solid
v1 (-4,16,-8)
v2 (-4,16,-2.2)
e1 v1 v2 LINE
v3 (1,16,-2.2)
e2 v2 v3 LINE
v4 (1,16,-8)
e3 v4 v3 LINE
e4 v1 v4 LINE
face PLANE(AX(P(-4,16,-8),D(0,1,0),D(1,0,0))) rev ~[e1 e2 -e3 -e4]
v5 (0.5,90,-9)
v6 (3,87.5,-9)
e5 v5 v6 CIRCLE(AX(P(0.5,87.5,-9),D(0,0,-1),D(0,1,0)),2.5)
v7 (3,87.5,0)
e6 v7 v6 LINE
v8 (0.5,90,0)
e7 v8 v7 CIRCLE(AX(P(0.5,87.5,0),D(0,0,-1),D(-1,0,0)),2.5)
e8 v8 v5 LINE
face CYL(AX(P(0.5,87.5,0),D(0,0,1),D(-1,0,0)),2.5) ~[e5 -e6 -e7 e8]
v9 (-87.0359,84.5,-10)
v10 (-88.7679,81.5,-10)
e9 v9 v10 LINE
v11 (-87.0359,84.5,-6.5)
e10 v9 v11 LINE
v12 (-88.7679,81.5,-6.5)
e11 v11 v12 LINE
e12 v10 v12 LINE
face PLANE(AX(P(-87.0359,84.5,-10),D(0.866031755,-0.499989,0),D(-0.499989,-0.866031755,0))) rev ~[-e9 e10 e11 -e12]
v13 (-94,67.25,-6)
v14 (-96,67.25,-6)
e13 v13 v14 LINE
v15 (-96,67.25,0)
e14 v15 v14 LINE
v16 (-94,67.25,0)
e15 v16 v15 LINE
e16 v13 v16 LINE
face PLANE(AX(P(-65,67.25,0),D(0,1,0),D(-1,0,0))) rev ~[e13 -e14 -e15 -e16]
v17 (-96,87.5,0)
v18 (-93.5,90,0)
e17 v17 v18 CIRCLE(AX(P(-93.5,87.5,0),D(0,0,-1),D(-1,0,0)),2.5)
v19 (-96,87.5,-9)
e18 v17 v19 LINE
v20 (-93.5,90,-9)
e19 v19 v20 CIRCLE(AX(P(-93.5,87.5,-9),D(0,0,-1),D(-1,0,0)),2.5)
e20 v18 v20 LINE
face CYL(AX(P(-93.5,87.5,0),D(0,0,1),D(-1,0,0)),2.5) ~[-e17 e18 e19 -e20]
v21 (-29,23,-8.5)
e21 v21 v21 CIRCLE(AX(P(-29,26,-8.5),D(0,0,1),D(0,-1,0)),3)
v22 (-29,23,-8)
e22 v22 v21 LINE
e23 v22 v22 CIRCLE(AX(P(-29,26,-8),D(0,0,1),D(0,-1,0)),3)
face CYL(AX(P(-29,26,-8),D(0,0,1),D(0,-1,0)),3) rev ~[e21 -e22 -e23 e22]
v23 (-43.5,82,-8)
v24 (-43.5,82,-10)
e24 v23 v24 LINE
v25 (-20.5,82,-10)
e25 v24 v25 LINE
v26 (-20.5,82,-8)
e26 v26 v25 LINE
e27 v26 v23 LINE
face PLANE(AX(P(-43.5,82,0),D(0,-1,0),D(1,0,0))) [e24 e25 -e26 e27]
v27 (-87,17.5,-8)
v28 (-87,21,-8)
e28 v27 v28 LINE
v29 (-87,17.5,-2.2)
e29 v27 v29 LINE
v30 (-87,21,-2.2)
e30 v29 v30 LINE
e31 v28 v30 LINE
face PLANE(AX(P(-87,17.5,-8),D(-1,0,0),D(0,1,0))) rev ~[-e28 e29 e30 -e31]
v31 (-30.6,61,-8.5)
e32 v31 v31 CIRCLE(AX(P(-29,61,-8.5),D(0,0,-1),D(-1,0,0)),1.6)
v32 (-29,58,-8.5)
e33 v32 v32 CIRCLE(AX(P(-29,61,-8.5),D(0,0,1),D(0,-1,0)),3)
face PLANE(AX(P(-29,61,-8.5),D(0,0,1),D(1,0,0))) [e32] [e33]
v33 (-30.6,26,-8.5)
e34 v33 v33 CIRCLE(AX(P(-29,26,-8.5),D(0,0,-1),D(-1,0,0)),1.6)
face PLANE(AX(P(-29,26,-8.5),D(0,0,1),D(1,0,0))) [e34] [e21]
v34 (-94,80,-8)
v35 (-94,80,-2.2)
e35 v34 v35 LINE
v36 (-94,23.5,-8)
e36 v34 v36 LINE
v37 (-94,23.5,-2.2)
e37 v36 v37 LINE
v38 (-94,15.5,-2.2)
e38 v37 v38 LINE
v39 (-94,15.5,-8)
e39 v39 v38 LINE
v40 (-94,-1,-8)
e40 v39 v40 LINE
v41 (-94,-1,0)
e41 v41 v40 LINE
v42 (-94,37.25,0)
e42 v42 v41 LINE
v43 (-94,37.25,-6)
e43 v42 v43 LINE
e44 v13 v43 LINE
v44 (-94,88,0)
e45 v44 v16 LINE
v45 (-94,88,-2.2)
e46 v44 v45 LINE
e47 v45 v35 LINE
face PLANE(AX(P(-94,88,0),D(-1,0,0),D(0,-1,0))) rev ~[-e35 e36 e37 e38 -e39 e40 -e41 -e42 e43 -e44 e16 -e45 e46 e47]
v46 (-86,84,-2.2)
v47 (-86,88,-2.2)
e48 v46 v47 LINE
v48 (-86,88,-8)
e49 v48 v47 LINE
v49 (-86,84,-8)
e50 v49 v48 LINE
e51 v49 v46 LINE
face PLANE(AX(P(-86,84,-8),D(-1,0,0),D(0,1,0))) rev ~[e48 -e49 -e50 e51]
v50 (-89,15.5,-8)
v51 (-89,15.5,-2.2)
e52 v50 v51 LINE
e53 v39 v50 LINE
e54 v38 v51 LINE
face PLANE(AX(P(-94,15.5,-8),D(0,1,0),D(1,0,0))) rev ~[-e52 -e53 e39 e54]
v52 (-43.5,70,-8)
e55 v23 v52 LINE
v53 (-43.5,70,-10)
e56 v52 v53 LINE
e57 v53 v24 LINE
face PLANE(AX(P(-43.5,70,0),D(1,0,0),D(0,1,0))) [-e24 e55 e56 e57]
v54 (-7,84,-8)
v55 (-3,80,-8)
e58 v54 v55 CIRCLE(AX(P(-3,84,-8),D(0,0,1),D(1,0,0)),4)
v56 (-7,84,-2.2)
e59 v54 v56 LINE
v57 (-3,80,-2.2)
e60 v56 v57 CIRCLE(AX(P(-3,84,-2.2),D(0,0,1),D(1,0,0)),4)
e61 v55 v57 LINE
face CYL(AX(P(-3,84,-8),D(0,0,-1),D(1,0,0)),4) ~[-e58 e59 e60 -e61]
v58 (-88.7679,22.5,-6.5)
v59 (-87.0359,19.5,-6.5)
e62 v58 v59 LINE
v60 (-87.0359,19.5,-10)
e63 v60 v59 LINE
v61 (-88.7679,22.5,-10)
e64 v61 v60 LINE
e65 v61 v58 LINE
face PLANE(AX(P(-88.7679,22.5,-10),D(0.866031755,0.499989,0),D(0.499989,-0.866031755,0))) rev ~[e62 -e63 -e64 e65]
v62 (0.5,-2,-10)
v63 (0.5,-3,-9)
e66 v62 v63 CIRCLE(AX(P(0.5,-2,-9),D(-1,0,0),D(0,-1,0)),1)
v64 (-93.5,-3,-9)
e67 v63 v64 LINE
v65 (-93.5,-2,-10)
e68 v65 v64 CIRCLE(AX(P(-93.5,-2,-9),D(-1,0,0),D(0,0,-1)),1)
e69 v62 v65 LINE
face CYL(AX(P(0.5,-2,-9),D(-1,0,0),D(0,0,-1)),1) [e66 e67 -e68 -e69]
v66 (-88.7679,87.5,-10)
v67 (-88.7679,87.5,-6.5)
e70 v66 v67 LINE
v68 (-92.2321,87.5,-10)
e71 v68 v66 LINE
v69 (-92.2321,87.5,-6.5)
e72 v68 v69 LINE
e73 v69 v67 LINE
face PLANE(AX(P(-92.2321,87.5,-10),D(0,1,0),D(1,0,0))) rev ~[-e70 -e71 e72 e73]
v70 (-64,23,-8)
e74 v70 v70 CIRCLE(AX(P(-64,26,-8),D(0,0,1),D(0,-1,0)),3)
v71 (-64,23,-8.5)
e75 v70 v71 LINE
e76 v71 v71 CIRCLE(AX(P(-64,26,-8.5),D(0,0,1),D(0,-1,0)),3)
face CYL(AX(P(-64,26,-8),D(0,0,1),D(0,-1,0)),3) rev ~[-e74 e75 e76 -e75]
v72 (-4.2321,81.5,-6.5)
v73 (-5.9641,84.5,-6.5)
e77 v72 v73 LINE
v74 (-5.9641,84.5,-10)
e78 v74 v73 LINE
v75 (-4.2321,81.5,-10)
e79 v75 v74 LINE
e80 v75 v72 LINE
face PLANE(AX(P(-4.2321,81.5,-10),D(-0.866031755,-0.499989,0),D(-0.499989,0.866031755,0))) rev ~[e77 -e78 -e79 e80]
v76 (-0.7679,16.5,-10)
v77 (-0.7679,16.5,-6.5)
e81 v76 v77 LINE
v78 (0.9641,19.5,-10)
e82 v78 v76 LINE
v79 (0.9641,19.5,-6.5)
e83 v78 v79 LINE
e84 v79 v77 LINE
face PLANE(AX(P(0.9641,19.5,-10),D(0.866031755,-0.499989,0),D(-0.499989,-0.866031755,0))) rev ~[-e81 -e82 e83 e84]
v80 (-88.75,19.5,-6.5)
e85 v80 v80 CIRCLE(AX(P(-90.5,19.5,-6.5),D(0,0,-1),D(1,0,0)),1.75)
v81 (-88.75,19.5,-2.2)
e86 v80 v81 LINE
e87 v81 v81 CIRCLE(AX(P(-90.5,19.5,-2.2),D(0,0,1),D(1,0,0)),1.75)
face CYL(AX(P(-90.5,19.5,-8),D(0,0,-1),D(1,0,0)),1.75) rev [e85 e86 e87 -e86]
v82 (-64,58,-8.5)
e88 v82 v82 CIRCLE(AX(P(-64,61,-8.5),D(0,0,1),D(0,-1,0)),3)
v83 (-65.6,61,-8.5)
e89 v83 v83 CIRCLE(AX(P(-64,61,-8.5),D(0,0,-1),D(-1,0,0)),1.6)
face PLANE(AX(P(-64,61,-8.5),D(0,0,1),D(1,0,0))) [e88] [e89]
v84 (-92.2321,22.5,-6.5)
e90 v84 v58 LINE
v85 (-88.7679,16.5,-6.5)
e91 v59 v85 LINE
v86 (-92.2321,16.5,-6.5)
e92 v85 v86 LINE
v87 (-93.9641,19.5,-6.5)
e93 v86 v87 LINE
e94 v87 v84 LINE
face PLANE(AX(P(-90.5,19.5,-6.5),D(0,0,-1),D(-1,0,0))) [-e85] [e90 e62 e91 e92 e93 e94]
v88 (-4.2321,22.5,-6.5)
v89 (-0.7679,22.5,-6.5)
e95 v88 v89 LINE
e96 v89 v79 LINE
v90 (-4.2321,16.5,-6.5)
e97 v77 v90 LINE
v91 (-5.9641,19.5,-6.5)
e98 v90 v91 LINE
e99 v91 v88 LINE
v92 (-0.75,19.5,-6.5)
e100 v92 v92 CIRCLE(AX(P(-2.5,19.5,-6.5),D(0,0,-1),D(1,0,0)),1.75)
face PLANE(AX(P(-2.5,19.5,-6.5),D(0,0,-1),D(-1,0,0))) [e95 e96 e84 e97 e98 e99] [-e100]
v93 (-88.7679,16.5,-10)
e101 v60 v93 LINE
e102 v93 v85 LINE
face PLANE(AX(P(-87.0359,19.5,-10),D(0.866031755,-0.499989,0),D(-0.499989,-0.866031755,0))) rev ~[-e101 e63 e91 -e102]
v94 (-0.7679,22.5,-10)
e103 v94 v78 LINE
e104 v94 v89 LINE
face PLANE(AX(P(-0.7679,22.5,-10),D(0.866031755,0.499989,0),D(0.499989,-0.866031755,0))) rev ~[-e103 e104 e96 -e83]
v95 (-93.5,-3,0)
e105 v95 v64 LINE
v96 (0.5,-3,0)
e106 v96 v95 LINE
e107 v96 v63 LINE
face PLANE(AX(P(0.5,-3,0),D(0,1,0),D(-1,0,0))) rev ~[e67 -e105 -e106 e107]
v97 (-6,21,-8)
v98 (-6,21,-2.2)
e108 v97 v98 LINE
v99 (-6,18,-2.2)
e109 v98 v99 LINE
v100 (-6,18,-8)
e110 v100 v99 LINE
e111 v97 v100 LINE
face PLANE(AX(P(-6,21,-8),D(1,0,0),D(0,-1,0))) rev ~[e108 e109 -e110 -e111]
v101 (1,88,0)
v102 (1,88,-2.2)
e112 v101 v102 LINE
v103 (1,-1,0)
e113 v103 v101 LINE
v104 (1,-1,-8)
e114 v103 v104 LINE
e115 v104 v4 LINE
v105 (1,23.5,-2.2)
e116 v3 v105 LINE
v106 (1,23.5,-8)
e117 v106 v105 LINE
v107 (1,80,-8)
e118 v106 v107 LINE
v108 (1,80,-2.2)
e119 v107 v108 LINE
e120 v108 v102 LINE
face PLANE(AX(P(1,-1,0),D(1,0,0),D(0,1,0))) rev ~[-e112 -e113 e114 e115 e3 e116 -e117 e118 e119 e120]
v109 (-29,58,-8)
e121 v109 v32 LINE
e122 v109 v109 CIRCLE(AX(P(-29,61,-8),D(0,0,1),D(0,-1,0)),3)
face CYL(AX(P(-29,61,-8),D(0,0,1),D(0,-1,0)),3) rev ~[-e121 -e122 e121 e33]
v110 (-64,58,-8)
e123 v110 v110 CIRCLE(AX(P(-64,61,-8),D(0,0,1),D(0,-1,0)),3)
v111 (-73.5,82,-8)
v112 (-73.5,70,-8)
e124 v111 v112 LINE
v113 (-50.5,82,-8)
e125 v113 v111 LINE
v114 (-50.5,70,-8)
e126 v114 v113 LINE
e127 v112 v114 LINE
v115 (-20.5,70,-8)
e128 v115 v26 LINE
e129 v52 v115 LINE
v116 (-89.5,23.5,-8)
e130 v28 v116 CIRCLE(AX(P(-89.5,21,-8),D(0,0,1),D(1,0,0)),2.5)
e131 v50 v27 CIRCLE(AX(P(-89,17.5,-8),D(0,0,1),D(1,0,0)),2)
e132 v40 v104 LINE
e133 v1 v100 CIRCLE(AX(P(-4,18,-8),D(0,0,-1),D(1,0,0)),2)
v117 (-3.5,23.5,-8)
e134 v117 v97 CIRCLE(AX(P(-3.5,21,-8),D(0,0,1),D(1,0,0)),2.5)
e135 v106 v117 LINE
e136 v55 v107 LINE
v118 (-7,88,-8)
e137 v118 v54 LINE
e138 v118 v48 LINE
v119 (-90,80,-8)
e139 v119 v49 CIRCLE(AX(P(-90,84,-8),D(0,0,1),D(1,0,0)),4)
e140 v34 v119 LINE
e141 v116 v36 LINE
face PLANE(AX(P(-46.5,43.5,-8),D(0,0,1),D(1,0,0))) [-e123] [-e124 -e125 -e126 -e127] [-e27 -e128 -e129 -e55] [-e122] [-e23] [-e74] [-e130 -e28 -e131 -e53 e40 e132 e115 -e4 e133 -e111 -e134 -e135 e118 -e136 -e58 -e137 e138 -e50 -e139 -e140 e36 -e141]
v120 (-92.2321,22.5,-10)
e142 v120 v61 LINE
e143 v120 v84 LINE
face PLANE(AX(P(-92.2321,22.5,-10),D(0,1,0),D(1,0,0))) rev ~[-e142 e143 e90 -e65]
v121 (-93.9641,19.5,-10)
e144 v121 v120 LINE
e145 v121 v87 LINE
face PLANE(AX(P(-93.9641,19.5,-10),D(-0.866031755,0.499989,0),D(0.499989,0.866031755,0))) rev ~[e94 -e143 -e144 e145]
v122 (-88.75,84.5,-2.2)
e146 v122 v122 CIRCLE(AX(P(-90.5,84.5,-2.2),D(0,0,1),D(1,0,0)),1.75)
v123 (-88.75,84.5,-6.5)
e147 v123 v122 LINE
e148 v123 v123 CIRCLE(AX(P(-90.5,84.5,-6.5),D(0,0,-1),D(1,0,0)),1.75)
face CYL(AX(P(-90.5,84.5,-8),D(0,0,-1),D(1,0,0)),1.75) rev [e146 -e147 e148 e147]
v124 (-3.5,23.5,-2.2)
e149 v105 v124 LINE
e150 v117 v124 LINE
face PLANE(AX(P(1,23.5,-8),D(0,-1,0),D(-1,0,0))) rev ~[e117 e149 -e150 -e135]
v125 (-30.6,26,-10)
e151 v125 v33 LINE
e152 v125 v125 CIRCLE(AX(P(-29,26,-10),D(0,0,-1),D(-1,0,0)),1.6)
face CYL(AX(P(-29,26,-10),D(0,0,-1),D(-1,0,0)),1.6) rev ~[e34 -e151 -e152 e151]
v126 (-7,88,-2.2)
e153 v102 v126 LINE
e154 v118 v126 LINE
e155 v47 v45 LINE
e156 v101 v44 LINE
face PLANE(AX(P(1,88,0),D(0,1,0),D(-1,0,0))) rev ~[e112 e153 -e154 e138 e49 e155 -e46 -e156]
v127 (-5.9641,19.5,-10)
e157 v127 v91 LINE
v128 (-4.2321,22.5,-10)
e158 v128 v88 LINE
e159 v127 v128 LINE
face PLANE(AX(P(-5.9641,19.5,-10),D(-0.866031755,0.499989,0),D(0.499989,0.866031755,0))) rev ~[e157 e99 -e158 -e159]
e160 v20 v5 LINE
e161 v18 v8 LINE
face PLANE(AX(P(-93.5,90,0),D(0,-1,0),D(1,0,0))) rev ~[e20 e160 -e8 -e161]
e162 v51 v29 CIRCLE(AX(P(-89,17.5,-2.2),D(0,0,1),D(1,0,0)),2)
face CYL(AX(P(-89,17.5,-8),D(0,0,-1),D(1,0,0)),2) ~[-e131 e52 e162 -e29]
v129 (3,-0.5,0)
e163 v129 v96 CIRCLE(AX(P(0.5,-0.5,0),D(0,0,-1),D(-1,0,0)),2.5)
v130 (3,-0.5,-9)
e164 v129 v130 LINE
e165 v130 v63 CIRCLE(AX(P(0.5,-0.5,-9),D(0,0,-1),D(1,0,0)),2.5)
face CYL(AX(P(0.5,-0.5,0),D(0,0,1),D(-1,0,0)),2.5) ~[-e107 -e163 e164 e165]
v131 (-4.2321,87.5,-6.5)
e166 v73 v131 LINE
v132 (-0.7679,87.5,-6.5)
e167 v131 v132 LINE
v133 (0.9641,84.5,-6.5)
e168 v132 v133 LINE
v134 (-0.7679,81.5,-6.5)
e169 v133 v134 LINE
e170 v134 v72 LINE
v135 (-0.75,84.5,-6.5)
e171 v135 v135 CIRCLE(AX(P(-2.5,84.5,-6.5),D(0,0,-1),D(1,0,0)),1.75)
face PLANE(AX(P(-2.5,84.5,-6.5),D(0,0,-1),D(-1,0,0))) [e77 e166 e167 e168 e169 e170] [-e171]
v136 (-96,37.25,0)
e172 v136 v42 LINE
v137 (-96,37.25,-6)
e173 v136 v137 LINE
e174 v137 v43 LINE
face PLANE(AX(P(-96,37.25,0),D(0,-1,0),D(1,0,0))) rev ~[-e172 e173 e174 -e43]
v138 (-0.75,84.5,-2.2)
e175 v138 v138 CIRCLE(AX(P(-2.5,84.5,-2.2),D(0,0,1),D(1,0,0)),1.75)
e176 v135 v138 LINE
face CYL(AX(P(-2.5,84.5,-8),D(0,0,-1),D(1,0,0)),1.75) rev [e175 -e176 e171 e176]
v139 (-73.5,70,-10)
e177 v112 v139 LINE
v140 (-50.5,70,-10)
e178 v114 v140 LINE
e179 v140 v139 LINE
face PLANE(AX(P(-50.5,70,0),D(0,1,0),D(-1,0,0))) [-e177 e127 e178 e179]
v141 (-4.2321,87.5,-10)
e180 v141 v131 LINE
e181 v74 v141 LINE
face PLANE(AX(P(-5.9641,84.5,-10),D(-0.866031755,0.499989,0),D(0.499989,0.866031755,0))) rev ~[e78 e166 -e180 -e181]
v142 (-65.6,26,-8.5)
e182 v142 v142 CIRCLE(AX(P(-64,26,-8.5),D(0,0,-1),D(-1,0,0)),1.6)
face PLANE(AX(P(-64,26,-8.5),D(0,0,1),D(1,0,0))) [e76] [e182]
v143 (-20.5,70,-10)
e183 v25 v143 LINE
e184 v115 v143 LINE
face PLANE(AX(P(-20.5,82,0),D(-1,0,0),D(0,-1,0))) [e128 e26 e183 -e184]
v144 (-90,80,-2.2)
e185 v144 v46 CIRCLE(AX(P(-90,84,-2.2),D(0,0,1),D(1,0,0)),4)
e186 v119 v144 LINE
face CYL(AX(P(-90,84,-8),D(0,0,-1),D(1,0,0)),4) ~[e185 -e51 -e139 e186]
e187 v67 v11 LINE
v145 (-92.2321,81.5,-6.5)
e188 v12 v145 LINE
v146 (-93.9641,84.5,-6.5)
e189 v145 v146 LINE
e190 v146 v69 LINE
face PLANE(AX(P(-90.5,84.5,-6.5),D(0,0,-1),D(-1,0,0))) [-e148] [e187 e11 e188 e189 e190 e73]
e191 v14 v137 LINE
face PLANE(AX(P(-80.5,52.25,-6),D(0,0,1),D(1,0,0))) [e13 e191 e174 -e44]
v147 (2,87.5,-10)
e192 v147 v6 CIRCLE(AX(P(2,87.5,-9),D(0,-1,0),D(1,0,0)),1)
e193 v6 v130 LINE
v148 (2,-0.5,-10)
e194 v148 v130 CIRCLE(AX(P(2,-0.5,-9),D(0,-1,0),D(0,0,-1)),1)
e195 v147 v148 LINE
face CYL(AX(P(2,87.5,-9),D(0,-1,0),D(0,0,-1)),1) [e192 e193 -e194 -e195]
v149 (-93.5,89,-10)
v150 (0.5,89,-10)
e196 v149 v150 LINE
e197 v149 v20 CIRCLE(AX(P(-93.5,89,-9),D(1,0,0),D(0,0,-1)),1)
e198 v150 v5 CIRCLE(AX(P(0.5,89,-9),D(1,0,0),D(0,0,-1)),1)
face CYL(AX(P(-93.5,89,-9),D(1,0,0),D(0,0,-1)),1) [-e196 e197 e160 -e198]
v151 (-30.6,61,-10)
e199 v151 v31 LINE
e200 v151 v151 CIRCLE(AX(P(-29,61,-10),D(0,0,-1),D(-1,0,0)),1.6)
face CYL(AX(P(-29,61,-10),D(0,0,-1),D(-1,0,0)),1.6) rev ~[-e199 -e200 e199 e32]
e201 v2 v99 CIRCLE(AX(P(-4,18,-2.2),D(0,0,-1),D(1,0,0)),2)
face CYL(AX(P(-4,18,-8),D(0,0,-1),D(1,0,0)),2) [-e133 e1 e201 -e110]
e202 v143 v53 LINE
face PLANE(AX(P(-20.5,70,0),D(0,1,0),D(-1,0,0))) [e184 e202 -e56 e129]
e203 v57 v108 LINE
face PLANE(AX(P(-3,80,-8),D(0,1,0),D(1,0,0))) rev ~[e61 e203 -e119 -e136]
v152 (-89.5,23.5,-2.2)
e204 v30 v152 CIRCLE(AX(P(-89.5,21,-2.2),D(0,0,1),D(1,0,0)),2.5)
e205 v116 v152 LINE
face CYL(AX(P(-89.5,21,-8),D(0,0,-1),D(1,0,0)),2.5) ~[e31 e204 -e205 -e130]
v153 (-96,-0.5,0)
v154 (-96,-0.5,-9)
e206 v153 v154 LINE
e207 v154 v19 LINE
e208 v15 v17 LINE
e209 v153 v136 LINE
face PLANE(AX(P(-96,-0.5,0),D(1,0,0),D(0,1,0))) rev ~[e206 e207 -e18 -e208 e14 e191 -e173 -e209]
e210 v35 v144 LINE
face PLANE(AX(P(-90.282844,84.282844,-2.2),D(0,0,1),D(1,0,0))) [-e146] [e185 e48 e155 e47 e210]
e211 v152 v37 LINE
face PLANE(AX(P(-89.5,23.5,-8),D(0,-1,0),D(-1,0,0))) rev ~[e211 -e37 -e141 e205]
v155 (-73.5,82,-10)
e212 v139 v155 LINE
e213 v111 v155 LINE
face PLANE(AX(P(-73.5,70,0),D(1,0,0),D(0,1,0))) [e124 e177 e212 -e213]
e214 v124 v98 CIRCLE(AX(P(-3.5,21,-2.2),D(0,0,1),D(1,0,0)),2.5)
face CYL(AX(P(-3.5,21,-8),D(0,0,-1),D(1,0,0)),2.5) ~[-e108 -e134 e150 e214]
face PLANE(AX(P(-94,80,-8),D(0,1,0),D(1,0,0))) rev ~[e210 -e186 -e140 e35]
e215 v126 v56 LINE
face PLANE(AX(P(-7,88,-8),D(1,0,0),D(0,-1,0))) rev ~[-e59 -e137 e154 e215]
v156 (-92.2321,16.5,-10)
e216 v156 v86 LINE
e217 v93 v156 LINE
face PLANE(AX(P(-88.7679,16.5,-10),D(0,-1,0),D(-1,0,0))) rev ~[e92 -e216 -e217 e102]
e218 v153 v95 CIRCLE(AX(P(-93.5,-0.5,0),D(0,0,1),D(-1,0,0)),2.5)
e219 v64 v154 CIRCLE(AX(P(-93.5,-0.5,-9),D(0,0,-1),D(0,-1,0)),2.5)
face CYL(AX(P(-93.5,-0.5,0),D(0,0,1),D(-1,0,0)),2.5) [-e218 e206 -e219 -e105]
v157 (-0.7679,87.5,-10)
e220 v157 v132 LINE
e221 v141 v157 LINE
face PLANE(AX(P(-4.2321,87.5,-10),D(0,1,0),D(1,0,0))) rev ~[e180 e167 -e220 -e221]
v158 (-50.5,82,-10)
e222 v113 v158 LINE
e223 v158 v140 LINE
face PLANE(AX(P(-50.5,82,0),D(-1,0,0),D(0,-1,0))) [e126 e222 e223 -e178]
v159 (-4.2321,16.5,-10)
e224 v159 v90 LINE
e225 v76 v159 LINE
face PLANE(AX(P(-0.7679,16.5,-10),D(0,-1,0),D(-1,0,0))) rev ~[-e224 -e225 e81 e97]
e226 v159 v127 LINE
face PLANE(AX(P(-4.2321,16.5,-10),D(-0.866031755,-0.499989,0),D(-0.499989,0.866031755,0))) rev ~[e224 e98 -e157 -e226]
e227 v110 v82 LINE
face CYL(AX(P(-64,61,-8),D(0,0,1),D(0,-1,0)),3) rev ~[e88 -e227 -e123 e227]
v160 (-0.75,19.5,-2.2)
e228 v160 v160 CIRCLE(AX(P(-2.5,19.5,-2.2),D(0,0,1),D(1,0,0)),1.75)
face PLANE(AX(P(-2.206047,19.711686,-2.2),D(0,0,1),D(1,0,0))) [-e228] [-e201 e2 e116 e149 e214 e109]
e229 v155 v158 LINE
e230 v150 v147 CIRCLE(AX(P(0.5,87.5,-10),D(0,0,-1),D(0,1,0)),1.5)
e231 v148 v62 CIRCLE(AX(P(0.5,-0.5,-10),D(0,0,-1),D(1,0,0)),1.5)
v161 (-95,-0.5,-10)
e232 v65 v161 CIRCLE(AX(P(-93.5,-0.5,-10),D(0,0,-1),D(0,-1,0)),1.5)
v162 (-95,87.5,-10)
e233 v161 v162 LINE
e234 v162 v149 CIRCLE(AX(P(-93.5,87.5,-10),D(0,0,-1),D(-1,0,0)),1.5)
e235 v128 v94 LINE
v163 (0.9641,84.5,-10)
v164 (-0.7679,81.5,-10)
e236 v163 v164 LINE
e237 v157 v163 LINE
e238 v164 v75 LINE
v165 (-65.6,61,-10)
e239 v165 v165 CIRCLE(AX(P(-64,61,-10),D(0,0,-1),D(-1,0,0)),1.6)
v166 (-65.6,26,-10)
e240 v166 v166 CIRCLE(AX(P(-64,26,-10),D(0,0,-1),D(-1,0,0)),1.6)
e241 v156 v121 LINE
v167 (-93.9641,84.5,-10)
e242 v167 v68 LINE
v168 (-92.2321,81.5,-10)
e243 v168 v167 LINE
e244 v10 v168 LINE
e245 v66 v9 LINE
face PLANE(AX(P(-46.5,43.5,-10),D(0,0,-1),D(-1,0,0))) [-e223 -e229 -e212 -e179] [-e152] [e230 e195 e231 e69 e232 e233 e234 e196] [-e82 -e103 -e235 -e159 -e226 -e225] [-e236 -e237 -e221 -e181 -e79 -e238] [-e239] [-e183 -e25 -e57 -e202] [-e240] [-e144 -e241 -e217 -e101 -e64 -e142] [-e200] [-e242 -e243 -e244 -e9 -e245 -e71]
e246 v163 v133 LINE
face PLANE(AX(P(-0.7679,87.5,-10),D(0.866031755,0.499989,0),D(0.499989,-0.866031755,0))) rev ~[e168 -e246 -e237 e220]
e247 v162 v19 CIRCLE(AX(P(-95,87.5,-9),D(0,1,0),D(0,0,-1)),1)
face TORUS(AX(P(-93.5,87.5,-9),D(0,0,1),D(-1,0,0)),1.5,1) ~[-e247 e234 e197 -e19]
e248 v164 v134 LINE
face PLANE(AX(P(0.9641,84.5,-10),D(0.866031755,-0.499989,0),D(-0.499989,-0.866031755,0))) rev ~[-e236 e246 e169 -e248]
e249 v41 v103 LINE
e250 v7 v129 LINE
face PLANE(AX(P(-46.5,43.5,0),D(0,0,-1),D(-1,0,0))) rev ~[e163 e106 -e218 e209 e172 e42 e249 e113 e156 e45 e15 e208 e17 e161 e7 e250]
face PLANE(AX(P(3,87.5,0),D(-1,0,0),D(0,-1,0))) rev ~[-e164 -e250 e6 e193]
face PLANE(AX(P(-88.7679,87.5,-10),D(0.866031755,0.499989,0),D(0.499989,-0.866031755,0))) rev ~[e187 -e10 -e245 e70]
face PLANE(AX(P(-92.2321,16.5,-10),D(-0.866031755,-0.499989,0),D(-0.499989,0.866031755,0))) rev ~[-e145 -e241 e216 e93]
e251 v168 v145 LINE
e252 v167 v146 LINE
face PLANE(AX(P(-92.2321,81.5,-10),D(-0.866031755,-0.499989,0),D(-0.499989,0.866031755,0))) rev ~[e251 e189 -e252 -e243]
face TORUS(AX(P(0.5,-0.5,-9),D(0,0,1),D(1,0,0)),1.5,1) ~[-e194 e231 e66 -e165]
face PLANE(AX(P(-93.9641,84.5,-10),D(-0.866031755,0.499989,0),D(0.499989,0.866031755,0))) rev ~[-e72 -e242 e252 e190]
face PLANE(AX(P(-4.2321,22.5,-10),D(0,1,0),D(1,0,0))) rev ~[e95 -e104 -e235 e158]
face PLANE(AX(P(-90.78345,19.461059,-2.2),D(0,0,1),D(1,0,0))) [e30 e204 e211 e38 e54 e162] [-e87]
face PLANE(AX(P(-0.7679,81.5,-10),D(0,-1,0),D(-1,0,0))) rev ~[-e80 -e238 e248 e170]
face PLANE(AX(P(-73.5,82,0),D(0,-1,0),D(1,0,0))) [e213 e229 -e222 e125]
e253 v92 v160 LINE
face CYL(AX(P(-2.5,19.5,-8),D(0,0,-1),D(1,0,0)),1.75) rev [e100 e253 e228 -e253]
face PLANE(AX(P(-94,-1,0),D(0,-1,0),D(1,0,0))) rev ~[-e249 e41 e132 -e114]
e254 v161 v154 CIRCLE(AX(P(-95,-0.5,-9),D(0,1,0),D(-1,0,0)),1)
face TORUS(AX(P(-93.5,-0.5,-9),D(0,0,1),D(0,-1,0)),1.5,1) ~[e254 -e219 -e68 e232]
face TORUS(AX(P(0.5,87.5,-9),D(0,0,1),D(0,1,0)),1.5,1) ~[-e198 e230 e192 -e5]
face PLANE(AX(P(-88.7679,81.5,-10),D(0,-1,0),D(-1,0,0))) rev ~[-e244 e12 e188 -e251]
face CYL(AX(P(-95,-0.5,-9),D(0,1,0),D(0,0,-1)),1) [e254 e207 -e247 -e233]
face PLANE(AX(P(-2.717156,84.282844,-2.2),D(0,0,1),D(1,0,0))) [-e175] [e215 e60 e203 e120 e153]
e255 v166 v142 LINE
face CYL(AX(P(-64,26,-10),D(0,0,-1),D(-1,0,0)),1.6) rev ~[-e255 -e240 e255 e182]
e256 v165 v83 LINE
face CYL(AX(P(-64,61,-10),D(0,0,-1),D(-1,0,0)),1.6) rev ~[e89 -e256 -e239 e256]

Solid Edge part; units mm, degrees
sketch "Sketch1" plane through (0, 0, 0) normal (0, 0, -1) x (-1, 0, 0)
  line L0 (20.5, 70) -> (43.5, 70)
  line L1 (43.5, 70) -> (43.5, 82)
  line L2 (43.5, 82) -> (20.5, 82)
  line L3 (20.5, 82) -> (20.5, 70)
  line L4 (50.5, 70) -> (73.5, 70)
  line L5 (73.5, 70) -> (73.5, 82)
  line L6 (73.5, 82) -> (50.5, 82)
  line L7 (50.5, 82) -> (50.5, 70)
  circle A0 centre (2.5, 84.5) radius 1.75
  circle A1 centre (90.5, 84.5) radius 1.75
  circle A2 centre (2.5, 19.5) radius 1.75
  circle A3 centre (90.5, 19.5) radius 1.75
  line L8 (96, -0.5) -> (96, 87.5)
  arc A4 (96, 87.5) -> (93.5, 90) centre (93.5, 87.5) ccw
  line L9 (93.5, 90) -> (-0.5, 90)
  arc A5 (-0.5, 90) -> (-3, 87.5) centre (-0.5, 87.5) ccw
  line L10 (-3, 87.5) -> (-3, -0.5)
  arc A6 (-3, -0.5) -> (-0.5, -3) centre (-0.5, -0.5) ccw
  line L11 (-0.5, -3) -> (93.5, -3)
  arc A7 (96, -0.5) -> (93.5, -3) centre (93.5, -0.5) cw
extrude "Protrusion1" add sketch "Sketch1" along normal blind 10
sketch "Sketch2" plane through (-46.5, 43.5, 0) normal (0, 0, 1) x (1, 0, 0)
  line L0 (-49.5, -6.25) -> (-18.5, -6.25)
  line L1 (-18.5, -6.25) -> (-18.5, 23.75)
  line L2 (-18.5, 23.75) -> (-49.5, 23.75)
  line L3 (-49.5, 23.75) -> (-49.5, -6.25)
extrude "ExtrudedCutout_1" cut sketch "Sketch2" against normal blind 6
sketch "Sketch3" plane through (-46.5, 43.5, 0) normal (0, 0, 1) x (1, 0, 0)
  line L0 (-47.5, -44.5) -> (47.5, -44.5)
  line L1 (47.5, -44.5) -> (47.5, 44.5)
  line L2 (47.5, 44.5) -> (-47.5, 44.5)
  line L3 (-47.5, 44.5) -> (-47.5, -44.5)
extrude "ExtrudedCutout_3" cut sketch "Sketch3" against normal blind 8
sketch "Sketch4" plane through (-46.5, 43.5, -8) normal (0, 0, 1) x (1, 0, 0)
  line L0 (39.5, 44.5) -> (39.5, 40.5)
  arc A0 (39.5, 40.5) -> (43.5, 36.5) centre (43.5, 40.5) ccw
  line L1 (43.5, 36.5) -> (47.5, 36.5)
  line L2 (47.5, 36.5) -> (47.5, 44.5)
  line L3 (47.5, 44.5) -> (39.5, 44.5)
  line L4 (-47.5, -28) -> (-42.5, -28)
  arc A1 (-42.5, -28) -> (-40.5, -26) centre (-42.5, -26) ccw
  line L5 (-40.5, -26) -> (-40.5, -22.5)
  arc A2 (-40.5, -22.5) -> (-43, -20) centre (-43, -22.5) ccw
  line L6 (-43, -20) -> (-47.5, -20)
  line L7 (-47.5, -20) -> (-47.5, -28)
  line L8 (42.5, -27.5) -> (47.5, -27.5)
  line L9 (47.5, -27.5) -> (47.5, -20)
  line L10 (47.5, -20) -> (43, -20)
  arc A3 (43, -20) -> (40.5, -22.5) centre (43, -22.5) ccw
  line L11 (40.5, -22.5) -> (40.5, -25.5)
  arc A4 (42.5, -27.5) -> (40.5, -25.5) centre (42.5, -25.5) cw
  circle A5 centre (-44, 41) radius 1.75
  circle A6 centre (44, 41) radius 1.75
  circle A7 centre (44, -24) radius 1.75
  circle A8 centre (-44, -24) radius 1.75
  line L12 (-47.5, 36.5) -> (-43.5, 36.5)
  arc A9 (-43.5, 36.5) -> (-39.5, 40.5) centre (-43.5, 40.5) ccw
  line L13 (-39.5, 40.5) -> (-39.5, 44.5)
  line L14 (-39.5, 44.5) -> (-47.5, 44.5)
  line L15 (-47.5, 44.5) -> (-47.5, 36.5)
  dimension "D1" = 4
  dimension "D2" = 22.5
  dimension "D3" = 3.5
  dimension "D4" = 22.5
  dimension "D5" = 4
extrude "ExtrudedProtrusion_2" add sketch "Sketch4" along normal blind 5.8
sketch "Sketch5" plane through (-46.5, 43.5, -10) normal (0, 0, -1) x (-1, 0, 0)
  line L0 (-45.7321, 44) -> (-47.4641, 41)
  line L1 (-47.4641, 41) -> (-45.7321, 38)
  line L2 (-45.7321, 38) -> (-42.2679, 38)
  line L3 (-42.2679, 38) -> (-40.5359, 41)
  line L4 (-40.5359, 41) -> (-42.2679, 44)
  line L5 (-42.2679, 44) -> (-45.7321, 44)
  line L6 (42.2679, 44) -> (40.5359, 41)
  line L7 (40.5359, 41) -> (42.2679, 38)
  line L8 (42.2679, 38) -> (45.7321, 38)
  line L9 (45.7321, 38) -> (47.4641, 41)
  line L10 (47.4641, 41) -> (45.7321, 44)
  line L11 (45.7321, 44) -> (42.2679, 44)
  line L12 (-45.7321, -21) -> (-47.4641, -24)
  line L13 (-47.4641, -24) -> (-45.7321, -27)
  line L14 (-45.7321, -27) -> (-42.2679, -27)
  line L15 (-42.2679, -27) -> (-40.5359, -24)
  line L16 (-40.5359, -24) -> (-42.2679, -21)
  line L17 (-42.2679, -21) -> (-45.7321, -21)
  line L18 (42.2679, -21) -> (40.5359, -24)
  line L19 (40.5359, -24) -> (42.2679, -27)
  line L20 (42.2679, -27) -> (45.7321, -27)
  line L21 (45.7321, -27) -> (47.4641, -24)
  line L22 (47.4641, -24) -> (45.7321, -21)
  line L23 (45.7321, -21) -> (42.2679, -21)
extrude "ExtrudedCutout_4" cut sketch "Sketch5" against normal blind 3.5
sketch "Sketch6" plane through (-46.5, 43.5, -10) normal (0, 0, -1) x (-1, 0, 0)
  circle A0 centre (17.5, 17.5) radius 1.6
  circle A1 centre (-17.5, -17.5) radius 1.6
  circle A2 centre (17.5, -17.5) radius 1.6
  circle A3 centre (-17.5, 17.5) radius 1.6
extrude "ExtrudedCutout_5" cut sketch "Sketch6" against normal blind 2
sketch "Sketch7" plane through (-46.5, 43.5, -8) normal (0, 0, 1) x (0, -1, 0)
  circle A0 centre (-17.5, -17.5) radius 3
  circle A1 centre (-17.5, 17.5) radius 3
  circle A2 centre (17.5, 17.5) radius 3
  circle A3 centre (17.5, -17.5) radius 3
extrude "ExtrudedCutout_6" cut sketch "Sketch7" against normal blind 0.5
fillet "Round_1" radius 1 8 edges at (-46.5, 90, -10) (2.2678, 89.2678, -10) (3, 43.5, -10) (2.2678, -2.2678, -10) (-46.5, -3, -10) (-95.2678, -2.2678, -10) (-96, 43.5, -10) (-95.2678, 89.2678, -10)
